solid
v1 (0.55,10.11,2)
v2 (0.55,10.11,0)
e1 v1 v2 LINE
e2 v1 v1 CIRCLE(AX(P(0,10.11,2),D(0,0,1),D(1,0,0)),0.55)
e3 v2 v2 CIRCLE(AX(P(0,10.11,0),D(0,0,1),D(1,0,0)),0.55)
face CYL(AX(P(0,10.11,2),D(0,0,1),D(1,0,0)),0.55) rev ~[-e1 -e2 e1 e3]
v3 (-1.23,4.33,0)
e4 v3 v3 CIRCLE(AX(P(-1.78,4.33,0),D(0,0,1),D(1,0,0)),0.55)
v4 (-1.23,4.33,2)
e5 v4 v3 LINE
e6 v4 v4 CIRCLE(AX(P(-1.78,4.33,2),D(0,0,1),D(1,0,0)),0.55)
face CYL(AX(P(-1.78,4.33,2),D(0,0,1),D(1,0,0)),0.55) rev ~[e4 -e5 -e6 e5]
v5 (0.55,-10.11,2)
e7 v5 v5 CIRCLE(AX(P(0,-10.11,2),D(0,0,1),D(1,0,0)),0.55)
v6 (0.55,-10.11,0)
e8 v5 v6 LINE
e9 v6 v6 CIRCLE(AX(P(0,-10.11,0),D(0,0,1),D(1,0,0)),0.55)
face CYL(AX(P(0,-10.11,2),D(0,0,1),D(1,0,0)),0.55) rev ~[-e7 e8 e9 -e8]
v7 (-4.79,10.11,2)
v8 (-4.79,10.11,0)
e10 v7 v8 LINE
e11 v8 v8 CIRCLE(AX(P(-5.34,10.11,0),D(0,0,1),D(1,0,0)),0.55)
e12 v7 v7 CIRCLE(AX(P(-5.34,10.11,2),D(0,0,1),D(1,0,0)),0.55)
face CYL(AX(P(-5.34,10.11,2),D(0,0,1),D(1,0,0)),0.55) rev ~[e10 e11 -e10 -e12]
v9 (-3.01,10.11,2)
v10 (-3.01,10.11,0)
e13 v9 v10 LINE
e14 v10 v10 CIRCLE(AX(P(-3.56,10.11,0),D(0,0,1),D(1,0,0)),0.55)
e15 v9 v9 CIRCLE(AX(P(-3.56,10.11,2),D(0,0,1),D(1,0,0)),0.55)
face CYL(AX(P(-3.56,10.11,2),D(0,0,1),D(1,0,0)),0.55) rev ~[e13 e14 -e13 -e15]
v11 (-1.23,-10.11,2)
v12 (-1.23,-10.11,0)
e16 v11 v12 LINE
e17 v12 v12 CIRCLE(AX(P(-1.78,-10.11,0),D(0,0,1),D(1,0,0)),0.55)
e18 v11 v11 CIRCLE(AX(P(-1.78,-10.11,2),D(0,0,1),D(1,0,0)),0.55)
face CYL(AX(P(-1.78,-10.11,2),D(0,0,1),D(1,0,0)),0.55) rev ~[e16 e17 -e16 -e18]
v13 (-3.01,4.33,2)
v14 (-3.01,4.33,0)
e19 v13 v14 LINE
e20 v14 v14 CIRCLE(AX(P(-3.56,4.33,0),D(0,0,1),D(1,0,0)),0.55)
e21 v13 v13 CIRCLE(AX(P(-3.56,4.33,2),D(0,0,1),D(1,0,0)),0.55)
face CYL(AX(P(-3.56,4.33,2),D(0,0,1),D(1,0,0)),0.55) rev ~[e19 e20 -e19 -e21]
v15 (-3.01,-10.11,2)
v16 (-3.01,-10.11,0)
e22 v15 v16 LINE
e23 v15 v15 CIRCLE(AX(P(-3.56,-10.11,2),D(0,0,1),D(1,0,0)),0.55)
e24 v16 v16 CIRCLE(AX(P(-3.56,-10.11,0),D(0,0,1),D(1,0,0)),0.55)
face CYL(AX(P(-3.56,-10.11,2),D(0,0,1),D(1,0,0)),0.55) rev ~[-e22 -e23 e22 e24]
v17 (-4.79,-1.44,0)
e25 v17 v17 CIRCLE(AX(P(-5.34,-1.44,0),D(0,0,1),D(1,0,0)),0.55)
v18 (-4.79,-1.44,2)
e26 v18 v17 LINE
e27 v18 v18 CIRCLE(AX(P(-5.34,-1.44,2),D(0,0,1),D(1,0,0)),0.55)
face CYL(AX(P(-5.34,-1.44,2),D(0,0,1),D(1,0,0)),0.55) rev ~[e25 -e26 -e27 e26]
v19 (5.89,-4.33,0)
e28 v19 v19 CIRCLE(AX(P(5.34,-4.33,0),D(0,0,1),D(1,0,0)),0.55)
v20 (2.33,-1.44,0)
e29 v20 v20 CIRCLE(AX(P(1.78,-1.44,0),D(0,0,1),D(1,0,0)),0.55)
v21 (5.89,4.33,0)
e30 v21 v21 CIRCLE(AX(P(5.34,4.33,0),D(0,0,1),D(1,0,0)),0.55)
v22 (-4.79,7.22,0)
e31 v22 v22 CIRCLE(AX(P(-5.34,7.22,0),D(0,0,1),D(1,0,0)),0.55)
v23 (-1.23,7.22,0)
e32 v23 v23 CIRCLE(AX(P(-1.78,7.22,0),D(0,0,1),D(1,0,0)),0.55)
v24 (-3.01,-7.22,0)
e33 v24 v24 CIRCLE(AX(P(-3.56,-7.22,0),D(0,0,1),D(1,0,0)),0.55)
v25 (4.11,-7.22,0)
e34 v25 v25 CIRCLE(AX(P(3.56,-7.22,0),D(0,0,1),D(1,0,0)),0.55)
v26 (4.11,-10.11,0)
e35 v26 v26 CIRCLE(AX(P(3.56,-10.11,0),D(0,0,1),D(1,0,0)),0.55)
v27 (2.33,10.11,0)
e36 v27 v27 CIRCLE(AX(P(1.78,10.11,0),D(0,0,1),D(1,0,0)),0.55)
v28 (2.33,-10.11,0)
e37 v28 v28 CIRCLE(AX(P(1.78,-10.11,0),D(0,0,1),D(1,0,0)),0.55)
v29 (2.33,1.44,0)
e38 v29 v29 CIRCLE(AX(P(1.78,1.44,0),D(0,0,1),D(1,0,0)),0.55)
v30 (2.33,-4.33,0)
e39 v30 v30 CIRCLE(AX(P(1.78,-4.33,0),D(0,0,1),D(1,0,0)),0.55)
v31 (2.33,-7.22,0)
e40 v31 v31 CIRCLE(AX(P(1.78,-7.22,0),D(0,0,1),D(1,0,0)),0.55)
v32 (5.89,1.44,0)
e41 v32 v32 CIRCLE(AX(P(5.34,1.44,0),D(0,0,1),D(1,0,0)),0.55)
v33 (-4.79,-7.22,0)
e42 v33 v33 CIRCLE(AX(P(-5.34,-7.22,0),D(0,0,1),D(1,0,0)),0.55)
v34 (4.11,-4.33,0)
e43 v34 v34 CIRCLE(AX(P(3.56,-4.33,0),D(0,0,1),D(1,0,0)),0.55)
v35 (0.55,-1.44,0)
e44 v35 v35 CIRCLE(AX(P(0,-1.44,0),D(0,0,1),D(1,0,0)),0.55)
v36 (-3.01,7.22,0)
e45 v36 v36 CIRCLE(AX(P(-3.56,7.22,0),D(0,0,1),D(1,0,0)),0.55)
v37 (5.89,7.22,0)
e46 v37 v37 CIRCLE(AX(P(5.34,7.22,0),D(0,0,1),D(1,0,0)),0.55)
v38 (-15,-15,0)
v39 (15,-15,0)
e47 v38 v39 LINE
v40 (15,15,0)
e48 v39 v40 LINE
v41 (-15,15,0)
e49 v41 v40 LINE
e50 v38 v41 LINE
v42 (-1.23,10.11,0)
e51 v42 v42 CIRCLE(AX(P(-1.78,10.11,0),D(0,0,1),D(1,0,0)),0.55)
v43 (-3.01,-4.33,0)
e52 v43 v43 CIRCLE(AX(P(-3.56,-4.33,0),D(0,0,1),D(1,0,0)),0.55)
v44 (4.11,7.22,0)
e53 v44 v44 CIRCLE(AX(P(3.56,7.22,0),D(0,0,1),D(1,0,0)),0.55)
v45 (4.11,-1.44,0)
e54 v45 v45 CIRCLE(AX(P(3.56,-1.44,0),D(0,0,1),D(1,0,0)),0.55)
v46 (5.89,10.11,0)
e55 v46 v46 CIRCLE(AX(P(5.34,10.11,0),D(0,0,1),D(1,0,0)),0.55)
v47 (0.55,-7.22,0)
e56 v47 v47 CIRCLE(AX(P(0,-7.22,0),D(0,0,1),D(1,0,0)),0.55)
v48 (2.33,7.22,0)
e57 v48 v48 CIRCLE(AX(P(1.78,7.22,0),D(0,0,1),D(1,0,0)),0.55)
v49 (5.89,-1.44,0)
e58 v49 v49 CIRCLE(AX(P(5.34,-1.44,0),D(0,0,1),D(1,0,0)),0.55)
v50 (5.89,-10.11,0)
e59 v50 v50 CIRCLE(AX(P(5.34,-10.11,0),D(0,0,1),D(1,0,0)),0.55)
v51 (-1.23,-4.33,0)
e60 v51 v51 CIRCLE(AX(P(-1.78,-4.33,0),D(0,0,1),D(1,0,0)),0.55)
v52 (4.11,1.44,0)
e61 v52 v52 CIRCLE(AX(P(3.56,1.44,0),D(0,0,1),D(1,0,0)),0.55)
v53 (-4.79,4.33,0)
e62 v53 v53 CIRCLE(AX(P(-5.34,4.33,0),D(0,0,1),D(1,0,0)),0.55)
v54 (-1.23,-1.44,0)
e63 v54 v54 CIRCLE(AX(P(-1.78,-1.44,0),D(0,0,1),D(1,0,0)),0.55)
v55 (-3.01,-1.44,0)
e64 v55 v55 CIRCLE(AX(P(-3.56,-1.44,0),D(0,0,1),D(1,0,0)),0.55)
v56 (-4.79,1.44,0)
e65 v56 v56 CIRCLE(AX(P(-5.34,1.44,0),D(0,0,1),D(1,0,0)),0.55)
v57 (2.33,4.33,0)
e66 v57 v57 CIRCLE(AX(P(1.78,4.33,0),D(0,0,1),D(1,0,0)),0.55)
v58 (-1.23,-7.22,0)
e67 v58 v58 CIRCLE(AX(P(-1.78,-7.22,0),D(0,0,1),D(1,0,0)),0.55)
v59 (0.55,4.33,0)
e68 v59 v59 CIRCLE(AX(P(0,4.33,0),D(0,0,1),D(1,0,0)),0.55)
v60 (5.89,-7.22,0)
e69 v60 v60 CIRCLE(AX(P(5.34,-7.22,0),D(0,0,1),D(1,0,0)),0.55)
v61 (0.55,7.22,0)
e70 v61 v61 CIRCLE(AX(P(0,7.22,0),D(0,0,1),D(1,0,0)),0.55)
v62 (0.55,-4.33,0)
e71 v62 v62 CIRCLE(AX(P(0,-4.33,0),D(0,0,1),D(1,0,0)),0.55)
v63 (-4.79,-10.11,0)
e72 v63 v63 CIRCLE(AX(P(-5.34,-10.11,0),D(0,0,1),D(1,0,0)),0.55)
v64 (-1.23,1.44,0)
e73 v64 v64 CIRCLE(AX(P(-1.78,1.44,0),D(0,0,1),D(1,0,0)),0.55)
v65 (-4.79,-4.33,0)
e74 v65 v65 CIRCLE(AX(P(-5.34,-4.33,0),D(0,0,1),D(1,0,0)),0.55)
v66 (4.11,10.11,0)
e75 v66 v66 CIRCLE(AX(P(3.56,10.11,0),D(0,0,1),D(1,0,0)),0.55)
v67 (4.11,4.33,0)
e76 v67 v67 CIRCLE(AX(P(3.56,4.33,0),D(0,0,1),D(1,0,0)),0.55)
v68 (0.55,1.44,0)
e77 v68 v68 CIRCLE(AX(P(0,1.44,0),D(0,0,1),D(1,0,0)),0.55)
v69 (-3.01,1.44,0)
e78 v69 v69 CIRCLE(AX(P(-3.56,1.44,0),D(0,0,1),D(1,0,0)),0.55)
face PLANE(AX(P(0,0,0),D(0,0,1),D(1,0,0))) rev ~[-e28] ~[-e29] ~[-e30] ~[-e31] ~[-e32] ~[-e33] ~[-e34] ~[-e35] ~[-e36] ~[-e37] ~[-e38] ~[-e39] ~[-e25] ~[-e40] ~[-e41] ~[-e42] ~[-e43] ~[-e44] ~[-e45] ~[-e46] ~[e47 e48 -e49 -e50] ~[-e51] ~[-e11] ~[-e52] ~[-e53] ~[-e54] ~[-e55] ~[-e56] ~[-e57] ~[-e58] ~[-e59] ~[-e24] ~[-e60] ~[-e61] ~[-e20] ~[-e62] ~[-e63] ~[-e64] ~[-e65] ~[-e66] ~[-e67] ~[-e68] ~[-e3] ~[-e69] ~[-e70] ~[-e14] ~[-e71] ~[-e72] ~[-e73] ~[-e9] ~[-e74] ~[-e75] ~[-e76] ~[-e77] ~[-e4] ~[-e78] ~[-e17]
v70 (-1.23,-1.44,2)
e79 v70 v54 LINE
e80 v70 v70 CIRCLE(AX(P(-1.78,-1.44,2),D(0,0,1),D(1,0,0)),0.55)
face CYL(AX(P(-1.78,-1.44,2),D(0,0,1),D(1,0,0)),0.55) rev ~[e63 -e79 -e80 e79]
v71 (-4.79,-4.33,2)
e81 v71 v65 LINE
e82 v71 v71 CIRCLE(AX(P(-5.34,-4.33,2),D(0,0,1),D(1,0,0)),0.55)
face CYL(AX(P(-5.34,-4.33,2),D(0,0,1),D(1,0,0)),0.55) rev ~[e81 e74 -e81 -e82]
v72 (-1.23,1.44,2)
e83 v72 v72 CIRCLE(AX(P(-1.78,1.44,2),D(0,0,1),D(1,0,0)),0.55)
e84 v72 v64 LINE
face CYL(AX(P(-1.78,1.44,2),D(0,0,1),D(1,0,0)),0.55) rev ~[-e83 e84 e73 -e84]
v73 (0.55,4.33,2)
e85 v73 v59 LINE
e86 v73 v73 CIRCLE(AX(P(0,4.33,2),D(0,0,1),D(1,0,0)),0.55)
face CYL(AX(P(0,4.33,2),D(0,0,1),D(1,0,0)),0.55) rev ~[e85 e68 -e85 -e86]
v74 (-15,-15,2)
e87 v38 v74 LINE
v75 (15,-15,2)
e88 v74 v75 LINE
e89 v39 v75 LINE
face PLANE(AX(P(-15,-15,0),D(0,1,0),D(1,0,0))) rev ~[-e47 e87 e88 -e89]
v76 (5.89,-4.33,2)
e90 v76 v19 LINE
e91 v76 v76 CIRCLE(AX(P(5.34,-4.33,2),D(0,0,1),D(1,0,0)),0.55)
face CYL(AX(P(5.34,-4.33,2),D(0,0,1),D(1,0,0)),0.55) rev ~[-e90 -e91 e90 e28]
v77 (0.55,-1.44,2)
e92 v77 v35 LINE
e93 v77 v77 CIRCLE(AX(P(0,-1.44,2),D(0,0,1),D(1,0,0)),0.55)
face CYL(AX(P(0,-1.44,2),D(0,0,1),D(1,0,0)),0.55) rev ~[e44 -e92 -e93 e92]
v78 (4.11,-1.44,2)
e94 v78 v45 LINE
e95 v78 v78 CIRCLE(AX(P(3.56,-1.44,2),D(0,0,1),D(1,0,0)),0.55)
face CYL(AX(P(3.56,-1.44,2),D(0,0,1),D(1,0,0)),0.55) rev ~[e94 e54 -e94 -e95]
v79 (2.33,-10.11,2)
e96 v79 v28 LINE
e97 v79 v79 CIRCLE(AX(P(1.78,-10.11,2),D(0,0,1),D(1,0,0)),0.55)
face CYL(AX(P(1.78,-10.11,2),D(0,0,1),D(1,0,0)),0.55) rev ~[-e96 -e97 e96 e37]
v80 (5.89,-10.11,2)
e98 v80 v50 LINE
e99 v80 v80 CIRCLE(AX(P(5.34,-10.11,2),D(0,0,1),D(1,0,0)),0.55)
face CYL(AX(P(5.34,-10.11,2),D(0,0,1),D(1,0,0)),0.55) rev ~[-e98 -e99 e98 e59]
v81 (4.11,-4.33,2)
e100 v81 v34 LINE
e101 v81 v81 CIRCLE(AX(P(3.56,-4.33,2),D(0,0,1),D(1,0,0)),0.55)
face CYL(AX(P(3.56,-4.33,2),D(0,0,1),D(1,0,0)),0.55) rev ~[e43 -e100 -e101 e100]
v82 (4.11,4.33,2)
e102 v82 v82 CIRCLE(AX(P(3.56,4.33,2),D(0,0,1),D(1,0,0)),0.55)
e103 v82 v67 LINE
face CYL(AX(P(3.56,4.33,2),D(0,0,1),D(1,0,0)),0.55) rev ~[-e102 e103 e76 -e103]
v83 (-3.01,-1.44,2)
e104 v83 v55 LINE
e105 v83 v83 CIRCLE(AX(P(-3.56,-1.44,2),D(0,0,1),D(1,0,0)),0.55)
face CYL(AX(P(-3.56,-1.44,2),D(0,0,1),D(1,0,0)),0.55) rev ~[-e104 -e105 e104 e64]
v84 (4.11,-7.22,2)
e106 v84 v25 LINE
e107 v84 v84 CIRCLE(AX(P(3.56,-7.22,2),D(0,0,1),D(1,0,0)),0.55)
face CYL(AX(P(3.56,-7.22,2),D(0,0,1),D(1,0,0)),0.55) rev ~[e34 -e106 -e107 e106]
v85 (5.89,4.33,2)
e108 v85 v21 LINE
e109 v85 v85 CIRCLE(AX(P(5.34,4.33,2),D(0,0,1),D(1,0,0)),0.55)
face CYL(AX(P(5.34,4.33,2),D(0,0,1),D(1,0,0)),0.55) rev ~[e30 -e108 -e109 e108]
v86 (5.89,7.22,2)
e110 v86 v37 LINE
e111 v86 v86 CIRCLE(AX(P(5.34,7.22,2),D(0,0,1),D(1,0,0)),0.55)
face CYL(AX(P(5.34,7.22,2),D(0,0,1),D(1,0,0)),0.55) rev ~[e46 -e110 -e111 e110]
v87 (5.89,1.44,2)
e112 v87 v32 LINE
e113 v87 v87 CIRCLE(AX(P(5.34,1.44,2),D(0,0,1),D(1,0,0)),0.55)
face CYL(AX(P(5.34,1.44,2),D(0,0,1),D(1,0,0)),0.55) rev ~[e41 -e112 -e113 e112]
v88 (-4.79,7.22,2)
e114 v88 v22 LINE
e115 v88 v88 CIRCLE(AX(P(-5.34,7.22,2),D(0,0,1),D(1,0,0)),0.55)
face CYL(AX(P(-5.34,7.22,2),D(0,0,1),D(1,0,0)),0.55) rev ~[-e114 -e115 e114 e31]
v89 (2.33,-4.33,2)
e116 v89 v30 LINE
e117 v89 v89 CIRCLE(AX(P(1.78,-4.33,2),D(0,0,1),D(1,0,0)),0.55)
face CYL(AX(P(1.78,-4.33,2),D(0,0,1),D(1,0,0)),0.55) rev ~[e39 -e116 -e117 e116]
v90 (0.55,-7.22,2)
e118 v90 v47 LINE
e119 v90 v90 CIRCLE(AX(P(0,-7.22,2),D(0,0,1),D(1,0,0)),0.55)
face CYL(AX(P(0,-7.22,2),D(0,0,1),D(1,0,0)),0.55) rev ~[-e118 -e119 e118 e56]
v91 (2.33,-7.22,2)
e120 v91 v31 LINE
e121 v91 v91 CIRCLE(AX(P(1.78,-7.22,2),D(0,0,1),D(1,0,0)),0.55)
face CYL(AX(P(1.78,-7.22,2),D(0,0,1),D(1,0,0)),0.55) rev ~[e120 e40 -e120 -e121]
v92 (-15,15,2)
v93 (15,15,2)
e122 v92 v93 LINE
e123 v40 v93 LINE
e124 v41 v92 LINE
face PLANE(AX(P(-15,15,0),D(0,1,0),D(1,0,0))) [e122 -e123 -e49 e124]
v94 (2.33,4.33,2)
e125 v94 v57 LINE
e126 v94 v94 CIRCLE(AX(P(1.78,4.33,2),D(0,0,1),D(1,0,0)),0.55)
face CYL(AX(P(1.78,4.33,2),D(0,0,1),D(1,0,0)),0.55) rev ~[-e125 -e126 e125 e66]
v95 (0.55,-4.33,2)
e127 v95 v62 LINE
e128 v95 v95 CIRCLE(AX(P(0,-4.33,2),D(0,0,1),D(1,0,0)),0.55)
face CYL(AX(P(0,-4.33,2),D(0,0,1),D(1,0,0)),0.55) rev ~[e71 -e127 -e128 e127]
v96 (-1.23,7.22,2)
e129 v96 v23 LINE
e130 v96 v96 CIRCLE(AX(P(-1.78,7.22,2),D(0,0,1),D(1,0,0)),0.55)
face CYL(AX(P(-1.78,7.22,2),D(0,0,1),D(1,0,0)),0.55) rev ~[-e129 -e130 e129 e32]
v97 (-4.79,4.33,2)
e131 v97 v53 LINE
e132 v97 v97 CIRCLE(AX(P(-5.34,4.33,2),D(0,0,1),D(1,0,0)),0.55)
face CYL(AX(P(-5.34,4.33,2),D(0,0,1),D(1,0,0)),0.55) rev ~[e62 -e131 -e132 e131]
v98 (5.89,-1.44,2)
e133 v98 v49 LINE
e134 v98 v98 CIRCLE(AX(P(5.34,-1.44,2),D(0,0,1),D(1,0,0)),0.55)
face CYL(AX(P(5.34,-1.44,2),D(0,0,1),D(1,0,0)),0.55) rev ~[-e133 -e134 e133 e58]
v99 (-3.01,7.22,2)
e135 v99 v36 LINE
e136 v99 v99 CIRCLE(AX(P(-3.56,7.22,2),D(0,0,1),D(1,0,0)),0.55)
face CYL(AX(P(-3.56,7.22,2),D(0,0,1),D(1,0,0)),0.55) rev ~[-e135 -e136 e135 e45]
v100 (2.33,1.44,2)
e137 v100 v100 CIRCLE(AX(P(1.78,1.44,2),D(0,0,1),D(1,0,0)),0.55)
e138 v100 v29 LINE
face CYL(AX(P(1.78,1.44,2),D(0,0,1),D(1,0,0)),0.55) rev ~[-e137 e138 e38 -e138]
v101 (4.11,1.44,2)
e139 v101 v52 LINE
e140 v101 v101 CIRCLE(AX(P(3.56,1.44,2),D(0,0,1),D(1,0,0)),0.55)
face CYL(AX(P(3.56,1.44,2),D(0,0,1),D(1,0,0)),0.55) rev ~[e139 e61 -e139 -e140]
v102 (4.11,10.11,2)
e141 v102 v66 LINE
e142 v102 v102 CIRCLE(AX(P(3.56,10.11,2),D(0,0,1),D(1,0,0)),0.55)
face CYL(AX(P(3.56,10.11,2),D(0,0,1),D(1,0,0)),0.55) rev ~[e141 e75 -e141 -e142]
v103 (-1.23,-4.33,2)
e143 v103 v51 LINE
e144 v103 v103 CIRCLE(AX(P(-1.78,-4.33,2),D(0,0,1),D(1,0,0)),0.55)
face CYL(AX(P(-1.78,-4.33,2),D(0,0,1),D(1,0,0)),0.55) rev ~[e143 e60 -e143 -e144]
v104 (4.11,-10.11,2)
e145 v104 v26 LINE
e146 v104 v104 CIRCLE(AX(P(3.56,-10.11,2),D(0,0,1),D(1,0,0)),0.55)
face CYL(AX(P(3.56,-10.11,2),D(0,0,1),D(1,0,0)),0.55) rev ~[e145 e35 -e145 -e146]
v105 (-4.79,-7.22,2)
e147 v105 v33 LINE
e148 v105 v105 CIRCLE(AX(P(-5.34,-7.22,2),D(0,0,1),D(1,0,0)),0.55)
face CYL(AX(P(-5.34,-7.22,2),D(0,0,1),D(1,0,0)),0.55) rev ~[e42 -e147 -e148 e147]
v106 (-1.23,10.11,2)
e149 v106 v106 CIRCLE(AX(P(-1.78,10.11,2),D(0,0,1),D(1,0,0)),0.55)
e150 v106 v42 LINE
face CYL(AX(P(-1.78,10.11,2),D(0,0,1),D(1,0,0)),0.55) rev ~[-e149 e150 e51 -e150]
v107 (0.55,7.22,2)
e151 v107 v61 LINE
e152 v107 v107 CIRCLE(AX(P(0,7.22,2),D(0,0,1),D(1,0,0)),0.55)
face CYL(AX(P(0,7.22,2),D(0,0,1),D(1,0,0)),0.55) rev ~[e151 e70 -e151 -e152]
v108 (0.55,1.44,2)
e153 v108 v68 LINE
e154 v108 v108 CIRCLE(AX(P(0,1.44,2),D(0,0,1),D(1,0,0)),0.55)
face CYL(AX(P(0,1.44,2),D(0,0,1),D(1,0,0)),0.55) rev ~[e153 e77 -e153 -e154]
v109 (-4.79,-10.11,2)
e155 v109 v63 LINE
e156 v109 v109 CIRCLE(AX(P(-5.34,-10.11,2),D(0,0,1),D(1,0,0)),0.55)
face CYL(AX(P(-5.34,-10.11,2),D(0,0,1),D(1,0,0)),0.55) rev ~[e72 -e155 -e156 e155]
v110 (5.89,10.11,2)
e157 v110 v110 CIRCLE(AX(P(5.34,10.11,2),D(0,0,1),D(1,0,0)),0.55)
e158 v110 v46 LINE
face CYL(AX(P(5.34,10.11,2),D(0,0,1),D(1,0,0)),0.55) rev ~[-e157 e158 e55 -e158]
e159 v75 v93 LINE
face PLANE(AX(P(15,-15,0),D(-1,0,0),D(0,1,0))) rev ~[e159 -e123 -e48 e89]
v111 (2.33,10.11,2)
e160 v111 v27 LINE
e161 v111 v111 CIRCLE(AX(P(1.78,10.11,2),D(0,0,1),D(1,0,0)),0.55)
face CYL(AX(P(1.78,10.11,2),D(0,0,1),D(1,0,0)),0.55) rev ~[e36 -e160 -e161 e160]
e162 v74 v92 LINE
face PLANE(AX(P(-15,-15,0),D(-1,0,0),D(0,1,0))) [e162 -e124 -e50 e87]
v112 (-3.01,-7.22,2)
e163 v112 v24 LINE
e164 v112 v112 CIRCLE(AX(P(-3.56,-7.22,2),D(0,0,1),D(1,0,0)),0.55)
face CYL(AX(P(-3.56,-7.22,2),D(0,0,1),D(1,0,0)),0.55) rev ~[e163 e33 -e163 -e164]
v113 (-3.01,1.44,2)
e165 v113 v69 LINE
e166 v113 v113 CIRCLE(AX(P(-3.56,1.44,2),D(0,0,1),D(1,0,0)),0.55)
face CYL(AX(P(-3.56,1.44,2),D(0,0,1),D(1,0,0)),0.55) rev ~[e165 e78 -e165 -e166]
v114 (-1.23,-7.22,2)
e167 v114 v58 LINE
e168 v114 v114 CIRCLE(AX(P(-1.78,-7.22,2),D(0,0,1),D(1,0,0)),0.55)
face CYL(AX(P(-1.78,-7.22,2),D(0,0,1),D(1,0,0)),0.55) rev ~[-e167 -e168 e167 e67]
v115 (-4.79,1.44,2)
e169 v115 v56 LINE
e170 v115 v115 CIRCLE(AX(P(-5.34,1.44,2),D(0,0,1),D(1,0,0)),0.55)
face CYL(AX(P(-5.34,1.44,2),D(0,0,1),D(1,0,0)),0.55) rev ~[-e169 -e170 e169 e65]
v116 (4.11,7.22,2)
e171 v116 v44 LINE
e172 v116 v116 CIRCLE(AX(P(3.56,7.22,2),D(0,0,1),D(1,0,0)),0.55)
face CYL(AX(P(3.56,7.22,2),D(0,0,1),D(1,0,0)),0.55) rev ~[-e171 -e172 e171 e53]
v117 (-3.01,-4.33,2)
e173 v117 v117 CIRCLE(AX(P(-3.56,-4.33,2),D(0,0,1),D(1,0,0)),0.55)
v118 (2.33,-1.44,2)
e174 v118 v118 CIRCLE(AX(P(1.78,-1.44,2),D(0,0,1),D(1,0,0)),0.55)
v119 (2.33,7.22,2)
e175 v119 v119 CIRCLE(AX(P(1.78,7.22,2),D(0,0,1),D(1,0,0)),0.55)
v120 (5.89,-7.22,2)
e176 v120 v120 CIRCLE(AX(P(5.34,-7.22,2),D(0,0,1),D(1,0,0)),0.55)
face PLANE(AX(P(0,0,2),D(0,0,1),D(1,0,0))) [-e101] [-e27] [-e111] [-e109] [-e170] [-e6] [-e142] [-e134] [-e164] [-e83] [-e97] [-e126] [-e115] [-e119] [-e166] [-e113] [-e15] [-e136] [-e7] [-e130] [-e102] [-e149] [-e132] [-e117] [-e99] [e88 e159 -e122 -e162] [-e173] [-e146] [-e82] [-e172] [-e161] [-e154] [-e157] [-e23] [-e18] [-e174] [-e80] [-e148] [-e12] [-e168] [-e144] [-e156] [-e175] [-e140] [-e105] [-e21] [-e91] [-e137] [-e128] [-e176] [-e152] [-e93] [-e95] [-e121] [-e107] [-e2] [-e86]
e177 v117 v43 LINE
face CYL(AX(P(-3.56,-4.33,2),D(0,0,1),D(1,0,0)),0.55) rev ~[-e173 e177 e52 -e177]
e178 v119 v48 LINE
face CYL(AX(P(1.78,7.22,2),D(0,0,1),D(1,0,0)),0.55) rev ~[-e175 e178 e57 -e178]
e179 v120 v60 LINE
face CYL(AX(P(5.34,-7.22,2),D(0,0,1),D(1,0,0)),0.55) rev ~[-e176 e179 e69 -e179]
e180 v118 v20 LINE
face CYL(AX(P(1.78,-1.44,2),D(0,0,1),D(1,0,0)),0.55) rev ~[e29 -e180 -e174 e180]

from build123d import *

# Parameters (mm, degrees)
ESQUISSE1_W            = 30
ESQUISSE1_H            = 30
BASE_PLATE_DEPTH       = 2
SKETCH_PERFORATIONS_R  = 0.55
CUT_PERFORATIONS_DEPTH = 10


with BuildPart() as part:
    # Esquisse1 → Base_Plate (new body)
    with BuildSketch(Plane.XY):
        Rectangle(ESQUISSE1_W, ESQUISSE1_H)
    extrude(amount=BASE_PLATE_DEPTH)

    # Sketch_Perforations → Cut_Perforations (cut)
    with BuildSketch(Plane.XY.offset(2)):
        with Locations((-5.34, -10.11)):
            Circle(SKETCH_PERFORATIONS_R)
        with Locations((-5.34, -7.22)):
            Circle(SKETCH_PERFORATIONS_R)
        with Locations((-5.34, -4.33)):
            Circle(SKETCH_PERFORATIONS_R)
        with Locations((-5.34, -1.44)):
            Circle(SKETCH_PERFORATIONS_R)
        with Locations((-5.34, 1.44)):
            Circle(SKETCH_PERFORATIONS_R)
        with Locations((-5.34, 4.33)):
            Circle(SKETCH_PERFORATIONS_R)
        with Locations((-5.34, 7.22)):
            Circle(SKETCH_PERFORATIONS_R)
        with Locations((-5.34, 10.11)):
            Circle(SKETCH_PERFORATIONS_R)
        with Locations((-3.56, -10.11)):
            Circle(SKETCH_PERFORATIONS_R)
        with Locations((-3.56, -7.22)):
            Circle(SKETCH_PERFORATIONS_R)
        with Locations((-3.56, -4.33)):
            Circle(SKETCH_PERFORATIONS_R)
        with Locations((-3.56, -1.44)):
            Circle(SKETCH_PERFORATIONS_R)
        with Locations((-3.56, 1.44)):
            Circle(SKETCH_PERFORATIONS_R)
        with Locations((-3.56, 4.33)):
            Circle(SKETCH_PERFORATIONS_R)
        with Locations((-3.56, 7.22)):
            Circle(SKETCH_PERFORATIONS_R)
        with Locations((-3.56, 10.11)):
            Circle(SKETCH_PERFORATIONS_R)
        with Locations((-1.78, -10.11)):
            Circle(SKETCH_PERFORATIONS_R)
        with Locations((-1.78, -7.22)):
            Circle(SKETCH_PERFORATIONS_R)
        with Locations((-1.78, -4.33)):
            Circle(SKETCH_PERFORATIONS_R)
        with Locations((-1.78, -1.44)):
            Circle(SKETCH_PERFORATIONS_R)
        with Locations((-1.78, 1.44)):
            Circle(SKETCH_PERFORATIONS_R)
        with Locations((-1.78, 4.33)):
            Circle(SKETCH_PERFORATIONS_R)
        with Locations((-1.78, 7.22)):
            Circle(SKETCH_PERFORATIONS_R)
        with Locations((-1.78, 10.11)):
            Circle(SKETCH_PERFORATIONS_R)
        with Locations((0, -10.11)):
            Circle(SKETCH_PERFORATIONS_R)
        with Locations((0, -7.22)):
            Circle(SKETCH_PERFORATIONS_R)
        with Locations((0, -4.33)):
            Circle(SKETCH_PERFORATIONS_R)
        with Locations((0, -1.44)):
            Circle(SKETCH_PERFORATIONS_R)
        with Locations((0, 1.44)):
            Circle(SKETCH_PERFORATIONS_R)
        with Locations((0, 4.33)):
            Circle(SKETCH_PERFORATIONS_R)
        with Locations((0, 7.22)):
            Circle(SKETCH_PERFORATIONS_R)
        with Locations((0, 10.11)):
            Circle(SKETCH_PERFORATIONS_R)
        with Locations((1.78, -10.11)):
            Circle(SKETCH_PERFORATIONS_R)
        with Locations((1.78, -7.22)):
            Circle(SKETCH_PERFORATIONS_R)
        with Locations((1.78, -4.33)):
            Circle(SKETCH_PERFORATIONS_R)
        with Locations((1.78, -1.44)):
            Circle(SKETCH_PERFORATIONS_R)
        with Locations((1.78, 1.44)):
            Circle(SKETCH_PERFORATIONS_R)
        with Locations((1.78, 4.33)):
            Circle(SKETCH_PERFORATIONS_R)
        with Locations((1.78, 7.22)):
            Circle(SKETCH_PERFORATIONS_R)
        with Locations((1.78, 10.11)):
            Circle(SKETCH_PERFORATIONS_R)
        with Locations((3.56, -10.11)):
            Circle(SKETCH_PERFORATIONS_R)
        with Locations((3.56, -7.22)):
            Circle(SKETCH_PERFORATIONS_R)
        with Locations((3.56, -4.33)):
            Circle(SKETCH_PERFORATIONS_R)
        with Locations((3.56, -1.44)):
            Circle(SKETCH_PERFORATIONS_R)
        with Locations((3.56, 1.44)):
            Circle(SKETCH_PERFORATIONS_R)
        with Locations((3.56, 4.33)):
            Circle(SKETCH_PERFORATIONS_R)
        with Locations((3.56, 7.22)):
            Circle(SKETCH_PERFORATIONS_R)
        with Locations((3.56, 10.11)):
            Circle(SKETCH_PERFORATIONS_R)
        with Locations((5.34, -10.11)):
            Circle(SKETCH_PERFORATIONS_R)
        with Locations((5.34, -7.22)):
            Circle(SKETCH_PERFORATIONS_R)
        with Locations((5.34, -4.33)):
            Circle(SKETCH_PERFORATIONS_R)
        with Locations((5.34, -1.44)):
            Circle(SKETCH_PERFORATIONS_R)
        with Locations((5.34, 1.44)):
            Circle(SKETCH_PERFORATIONS_R)
        with Locations((5.34, 4.33)):
            Circle(SKETCH_PERFORATIONS_R)
        with Locations((5.34, 7.22)):
            Circle(SKETCH_PERFORATIONS_R)
        with Locations((5.34, 10.11)):
            Circle(SKETCH_PERFORATIONS_R)
    extrude(amount=-CUT_PERFORATIONS_DEPTH, mode=Mode.SUBTRACT)


solid = part.part
